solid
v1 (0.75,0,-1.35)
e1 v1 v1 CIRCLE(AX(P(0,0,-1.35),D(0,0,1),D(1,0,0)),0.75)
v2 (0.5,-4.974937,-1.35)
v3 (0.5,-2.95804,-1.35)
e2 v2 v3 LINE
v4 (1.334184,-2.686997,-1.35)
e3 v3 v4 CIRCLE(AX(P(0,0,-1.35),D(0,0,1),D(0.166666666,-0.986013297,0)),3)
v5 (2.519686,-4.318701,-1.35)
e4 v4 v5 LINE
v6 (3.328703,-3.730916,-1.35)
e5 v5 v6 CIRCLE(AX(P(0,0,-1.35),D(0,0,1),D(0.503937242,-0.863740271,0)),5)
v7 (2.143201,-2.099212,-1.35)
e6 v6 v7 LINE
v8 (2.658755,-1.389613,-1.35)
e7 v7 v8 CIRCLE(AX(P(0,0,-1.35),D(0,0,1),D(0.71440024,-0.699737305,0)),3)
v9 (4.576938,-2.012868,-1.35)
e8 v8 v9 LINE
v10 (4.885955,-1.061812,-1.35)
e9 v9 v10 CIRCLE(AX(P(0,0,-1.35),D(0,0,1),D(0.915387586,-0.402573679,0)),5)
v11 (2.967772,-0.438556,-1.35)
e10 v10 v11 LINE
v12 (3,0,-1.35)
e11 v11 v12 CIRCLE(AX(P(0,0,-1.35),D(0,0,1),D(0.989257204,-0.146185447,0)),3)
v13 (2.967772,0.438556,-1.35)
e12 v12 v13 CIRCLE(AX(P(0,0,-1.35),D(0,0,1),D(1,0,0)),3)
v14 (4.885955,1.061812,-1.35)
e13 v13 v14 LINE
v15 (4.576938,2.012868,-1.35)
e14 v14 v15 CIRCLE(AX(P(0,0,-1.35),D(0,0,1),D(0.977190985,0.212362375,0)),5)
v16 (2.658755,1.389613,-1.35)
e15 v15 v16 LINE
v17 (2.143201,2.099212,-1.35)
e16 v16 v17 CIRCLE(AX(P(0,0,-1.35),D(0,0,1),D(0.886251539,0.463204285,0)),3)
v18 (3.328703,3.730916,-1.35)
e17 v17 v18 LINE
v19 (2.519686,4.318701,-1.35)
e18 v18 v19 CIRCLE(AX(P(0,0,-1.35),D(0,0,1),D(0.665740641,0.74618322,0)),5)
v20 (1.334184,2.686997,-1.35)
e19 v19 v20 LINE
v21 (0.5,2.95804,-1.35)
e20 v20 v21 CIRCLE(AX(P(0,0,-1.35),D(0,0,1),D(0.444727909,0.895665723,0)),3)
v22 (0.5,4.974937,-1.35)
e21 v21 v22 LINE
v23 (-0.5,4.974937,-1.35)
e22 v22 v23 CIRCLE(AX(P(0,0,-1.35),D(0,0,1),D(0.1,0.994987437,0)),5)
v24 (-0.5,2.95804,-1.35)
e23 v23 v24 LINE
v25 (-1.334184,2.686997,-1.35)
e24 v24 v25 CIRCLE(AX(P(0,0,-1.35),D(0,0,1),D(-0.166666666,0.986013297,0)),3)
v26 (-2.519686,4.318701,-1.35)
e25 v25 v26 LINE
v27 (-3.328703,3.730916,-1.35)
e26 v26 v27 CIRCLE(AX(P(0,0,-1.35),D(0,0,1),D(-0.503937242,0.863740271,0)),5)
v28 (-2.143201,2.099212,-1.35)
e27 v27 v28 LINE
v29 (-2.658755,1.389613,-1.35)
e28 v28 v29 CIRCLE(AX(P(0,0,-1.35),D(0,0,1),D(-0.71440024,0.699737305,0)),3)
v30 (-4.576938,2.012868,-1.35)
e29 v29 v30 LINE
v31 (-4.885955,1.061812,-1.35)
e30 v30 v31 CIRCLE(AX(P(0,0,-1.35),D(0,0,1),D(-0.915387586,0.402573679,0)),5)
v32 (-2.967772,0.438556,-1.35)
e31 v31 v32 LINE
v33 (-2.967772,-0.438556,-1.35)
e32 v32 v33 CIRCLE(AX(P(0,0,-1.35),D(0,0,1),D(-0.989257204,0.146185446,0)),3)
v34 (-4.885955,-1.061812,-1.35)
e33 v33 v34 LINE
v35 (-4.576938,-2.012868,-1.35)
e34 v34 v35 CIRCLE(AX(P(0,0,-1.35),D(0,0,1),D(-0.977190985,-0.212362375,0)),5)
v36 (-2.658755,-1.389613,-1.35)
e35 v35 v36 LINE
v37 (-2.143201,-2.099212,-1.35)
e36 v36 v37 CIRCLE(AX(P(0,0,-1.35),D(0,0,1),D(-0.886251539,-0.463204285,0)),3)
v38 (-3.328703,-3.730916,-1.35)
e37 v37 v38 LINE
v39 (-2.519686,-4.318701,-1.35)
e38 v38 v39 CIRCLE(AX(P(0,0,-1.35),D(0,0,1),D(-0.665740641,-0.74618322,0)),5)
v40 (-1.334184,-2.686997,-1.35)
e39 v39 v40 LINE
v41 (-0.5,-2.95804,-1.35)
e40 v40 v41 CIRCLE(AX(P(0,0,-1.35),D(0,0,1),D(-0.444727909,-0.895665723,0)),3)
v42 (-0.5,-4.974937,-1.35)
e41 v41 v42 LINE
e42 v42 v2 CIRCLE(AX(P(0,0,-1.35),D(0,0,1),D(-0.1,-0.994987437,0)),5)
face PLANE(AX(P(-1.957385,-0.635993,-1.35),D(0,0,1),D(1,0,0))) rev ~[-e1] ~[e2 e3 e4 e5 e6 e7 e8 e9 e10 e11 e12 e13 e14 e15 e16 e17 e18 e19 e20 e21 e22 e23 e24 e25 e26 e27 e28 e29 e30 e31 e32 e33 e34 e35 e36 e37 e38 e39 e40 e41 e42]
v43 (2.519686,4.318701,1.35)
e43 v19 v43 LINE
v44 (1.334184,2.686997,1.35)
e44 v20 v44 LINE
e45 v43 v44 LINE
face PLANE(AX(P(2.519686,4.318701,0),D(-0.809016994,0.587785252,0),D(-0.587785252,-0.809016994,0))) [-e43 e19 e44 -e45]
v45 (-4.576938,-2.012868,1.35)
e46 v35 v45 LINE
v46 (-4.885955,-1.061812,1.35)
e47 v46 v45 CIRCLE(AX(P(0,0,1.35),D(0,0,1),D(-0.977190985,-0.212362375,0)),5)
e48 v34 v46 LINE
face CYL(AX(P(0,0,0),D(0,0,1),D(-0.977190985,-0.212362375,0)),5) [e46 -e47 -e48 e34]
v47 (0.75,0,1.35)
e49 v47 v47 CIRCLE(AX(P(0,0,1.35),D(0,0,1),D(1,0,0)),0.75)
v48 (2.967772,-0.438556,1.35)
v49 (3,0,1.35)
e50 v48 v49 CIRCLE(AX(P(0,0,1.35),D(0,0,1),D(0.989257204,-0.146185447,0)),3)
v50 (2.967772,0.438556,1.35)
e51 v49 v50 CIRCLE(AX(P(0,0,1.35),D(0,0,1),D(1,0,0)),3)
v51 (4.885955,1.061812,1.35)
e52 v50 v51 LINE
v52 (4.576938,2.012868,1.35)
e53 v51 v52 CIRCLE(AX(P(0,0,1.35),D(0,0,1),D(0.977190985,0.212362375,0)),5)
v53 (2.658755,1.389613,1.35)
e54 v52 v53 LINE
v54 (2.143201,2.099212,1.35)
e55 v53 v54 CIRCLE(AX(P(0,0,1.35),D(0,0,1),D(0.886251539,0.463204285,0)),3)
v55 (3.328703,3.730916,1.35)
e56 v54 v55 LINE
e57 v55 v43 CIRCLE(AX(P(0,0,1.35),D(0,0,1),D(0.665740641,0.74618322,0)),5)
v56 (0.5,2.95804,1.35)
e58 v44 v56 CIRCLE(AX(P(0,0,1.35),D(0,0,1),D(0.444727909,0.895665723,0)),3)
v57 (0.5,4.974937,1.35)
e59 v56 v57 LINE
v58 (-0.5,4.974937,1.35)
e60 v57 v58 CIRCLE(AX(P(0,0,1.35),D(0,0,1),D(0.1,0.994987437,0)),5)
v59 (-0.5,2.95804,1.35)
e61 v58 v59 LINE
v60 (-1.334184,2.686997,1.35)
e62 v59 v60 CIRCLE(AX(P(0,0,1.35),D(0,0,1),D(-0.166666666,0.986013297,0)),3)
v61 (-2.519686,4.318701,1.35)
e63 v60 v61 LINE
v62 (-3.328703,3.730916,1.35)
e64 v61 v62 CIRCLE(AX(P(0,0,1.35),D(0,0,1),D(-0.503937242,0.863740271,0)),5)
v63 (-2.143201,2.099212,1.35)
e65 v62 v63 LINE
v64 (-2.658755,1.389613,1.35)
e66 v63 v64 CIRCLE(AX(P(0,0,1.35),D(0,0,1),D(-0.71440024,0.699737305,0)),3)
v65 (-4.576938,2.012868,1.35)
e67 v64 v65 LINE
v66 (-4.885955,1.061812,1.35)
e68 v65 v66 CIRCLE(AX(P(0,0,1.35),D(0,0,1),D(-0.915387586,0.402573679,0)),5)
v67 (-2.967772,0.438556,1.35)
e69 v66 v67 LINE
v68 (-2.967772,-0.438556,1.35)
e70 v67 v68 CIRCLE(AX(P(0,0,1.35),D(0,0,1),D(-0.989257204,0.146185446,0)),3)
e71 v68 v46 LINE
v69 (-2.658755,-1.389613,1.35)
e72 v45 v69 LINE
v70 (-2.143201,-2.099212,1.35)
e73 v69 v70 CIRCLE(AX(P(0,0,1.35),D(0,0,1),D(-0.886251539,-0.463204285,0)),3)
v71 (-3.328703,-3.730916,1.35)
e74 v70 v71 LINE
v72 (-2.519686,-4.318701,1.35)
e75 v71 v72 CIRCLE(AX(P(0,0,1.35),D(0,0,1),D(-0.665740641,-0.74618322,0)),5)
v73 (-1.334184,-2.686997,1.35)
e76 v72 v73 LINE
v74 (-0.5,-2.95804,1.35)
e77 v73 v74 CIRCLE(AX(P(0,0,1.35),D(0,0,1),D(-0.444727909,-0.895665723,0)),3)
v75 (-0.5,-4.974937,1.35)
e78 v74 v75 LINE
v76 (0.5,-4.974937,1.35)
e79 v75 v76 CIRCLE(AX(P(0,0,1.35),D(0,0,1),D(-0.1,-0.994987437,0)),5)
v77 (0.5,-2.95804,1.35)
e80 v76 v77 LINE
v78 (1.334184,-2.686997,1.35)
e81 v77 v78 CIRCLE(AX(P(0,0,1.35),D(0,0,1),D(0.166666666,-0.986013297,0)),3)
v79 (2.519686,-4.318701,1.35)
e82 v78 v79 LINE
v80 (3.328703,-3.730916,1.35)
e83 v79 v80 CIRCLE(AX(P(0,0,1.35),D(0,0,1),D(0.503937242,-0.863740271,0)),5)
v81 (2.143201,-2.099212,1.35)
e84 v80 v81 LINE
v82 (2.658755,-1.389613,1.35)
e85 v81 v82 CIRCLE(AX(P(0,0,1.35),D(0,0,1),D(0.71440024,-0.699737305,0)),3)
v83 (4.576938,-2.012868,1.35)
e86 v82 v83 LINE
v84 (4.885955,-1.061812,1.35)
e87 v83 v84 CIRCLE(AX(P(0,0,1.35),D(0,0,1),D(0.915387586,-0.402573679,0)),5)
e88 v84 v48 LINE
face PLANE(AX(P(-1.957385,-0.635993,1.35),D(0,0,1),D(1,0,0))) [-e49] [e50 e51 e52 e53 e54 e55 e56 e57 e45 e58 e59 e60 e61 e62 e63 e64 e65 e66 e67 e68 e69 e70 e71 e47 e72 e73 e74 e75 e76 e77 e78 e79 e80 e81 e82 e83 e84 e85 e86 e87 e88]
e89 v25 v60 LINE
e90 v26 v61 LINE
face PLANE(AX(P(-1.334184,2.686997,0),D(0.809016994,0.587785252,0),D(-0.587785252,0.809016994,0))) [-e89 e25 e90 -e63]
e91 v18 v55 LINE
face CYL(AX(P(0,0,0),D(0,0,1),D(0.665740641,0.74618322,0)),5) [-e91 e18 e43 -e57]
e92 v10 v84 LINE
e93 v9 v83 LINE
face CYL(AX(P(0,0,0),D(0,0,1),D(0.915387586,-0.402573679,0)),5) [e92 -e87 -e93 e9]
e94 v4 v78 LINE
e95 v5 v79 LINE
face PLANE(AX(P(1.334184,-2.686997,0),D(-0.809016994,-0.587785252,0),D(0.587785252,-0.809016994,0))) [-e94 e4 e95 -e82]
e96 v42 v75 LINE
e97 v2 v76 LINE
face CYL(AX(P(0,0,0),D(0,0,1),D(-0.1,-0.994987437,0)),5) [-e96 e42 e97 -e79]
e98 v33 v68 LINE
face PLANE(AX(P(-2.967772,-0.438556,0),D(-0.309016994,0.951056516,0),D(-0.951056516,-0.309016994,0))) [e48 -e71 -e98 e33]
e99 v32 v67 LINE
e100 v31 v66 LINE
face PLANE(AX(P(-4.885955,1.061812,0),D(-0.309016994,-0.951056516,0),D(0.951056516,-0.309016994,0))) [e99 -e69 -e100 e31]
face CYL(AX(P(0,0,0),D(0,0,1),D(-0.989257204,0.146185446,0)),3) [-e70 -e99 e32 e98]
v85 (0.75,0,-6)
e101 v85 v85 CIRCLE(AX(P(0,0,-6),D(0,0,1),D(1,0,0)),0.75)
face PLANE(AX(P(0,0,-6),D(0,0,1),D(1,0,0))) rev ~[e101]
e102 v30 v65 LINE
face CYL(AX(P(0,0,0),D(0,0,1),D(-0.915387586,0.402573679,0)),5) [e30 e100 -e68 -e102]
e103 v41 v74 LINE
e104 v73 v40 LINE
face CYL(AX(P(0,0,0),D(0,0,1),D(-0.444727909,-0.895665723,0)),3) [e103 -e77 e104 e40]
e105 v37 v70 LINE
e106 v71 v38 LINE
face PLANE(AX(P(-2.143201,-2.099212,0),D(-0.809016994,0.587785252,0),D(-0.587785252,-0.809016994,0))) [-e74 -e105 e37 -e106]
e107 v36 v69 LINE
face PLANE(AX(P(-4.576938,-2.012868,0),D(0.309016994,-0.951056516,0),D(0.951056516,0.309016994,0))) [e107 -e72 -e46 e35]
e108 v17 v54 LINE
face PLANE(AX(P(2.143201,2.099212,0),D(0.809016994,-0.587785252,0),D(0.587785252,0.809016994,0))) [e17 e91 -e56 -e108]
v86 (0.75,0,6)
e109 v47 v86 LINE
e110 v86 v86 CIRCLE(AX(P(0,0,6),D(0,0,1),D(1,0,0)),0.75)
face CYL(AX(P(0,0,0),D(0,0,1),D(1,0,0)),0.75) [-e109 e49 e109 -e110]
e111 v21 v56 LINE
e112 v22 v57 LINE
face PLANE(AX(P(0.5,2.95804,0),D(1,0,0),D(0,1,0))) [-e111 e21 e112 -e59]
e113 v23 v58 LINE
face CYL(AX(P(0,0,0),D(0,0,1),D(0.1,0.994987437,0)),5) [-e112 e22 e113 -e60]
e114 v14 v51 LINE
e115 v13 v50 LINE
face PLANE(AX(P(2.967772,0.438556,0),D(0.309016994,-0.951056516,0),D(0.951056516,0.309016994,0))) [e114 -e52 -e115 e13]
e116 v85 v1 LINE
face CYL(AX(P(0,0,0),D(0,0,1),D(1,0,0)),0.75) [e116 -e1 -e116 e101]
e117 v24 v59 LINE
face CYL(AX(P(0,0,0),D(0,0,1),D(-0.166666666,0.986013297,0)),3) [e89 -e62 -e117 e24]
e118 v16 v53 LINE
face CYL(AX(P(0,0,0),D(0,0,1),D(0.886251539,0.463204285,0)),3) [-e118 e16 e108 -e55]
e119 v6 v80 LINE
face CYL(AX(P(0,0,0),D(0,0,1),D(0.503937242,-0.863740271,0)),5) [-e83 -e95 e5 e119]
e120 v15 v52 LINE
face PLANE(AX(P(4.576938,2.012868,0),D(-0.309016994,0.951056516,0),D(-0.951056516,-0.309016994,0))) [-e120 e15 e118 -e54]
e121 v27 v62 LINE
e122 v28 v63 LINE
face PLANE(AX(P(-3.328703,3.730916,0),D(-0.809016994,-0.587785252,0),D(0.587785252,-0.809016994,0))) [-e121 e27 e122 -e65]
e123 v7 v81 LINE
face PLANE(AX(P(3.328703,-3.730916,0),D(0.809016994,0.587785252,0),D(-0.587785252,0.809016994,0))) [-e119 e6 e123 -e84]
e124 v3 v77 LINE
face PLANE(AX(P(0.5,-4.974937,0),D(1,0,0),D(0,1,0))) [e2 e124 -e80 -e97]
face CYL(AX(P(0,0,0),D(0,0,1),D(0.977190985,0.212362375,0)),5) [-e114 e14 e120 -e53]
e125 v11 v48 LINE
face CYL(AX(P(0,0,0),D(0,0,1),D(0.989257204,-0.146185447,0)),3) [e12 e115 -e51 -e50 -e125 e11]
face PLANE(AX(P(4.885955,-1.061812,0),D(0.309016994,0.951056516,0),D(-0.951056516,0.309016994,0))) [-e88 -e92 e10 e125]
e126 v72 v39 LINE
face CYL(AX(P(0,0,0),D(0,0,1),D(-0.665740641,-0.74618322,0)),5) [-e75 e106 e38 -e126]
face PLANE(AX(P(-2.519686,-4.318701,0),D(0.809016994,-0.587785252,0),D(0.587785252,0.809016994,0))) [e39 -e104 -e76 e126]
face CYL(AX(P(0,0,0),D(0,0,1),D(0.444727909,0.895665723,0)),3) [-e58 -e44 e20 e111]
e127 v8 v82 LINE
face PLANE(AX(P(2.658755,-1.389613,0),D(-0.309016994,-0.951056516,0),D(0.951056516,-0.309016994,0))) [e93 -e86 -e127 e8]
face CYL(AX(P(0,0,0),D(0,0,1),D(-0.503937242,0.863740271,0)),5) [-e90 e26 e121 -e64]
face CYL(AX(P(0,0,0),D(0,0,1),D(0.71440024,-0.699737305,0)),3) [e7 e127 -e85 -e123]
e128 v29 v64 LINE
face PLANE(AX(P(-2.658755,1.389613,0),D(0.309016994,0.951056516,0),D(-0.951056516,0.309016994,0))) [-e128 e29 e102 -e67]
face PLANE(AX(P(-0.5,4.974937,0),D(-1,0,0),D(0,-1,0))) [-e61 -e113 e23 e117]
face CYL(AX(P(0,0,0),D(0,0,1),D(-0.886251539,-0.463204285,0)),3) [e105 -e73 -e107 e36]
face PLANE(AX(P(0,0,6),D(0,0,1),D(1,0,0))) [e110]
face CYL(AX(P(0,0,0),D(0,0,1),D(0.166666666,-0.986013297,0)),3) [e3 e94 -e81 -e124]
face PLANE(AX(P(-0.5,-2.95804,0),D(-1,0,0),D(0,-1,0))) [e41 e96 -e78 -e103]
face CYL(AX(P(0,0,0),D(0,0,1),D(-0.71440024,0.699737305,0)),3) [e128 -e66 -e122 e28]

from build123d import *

# Parameters (mm, degrees)
F1_DEPTH = 1.35
F2_R     = 0.75
F3_DEPTH = 6


with BuildPart() as f1:
    # F0 (on Top) → F1 (new body, symmetric)
    with BuildSketch(Plane.XY):
        with BuildLine():
            ThreePointArc((-2.9677716115, -0.4385563384), (-2.8531695489, -0.9270509831), (-2.6587546171, -1.3896128547))
            Line((-2.6587546171, -1.3896128547), (-1.3090169944, -0.9510565163))
            Line((-1.3090169944, -0.9510565163), (-0.8090169944, -0.2628655561))
            Line((-0.8090169944, -0.2628655561), (-1.6180339887, 0))
            Line((-1.6180339887, 0), (-2.9677716115, -0.4385563384))
        make_face()
        with BuildLine():
            ThreePointArc((2.1432007211, -2.0992119162), (2.4270509831, -1.7633557569), (2.6587546171, -1.3896128547))
            Line((2.6587546171, -1.3896128547), (1.3090169944, -0.9510565163))
            Line((1.3090169944, -0.9510565163), (2.1432007211, -2.0992119162))
        make_face()
        with BuildLine():
            ThreePointArc((-2.1432007211, -2.0992119162), (-1.7633557569, -2.4270509831), (-1.3341837268, -2.6869971684))
            Line((-1.3341837268, -2.6869971684), (-0.5, -1.5388417686))
            Line((-0.5, -1.5388417686), (-0.5, -0.6881909602))
            Line((-0.5, -0.6881909602), (-1.3090169944, -0.9510565163))
            Line((-1.3090169944, -0.9510565163), (-2.1432007211, -2.0992119162))
        make_face()
        Polygon((0.6180339887, 0), (0.8090169944, 0.2628655561), (0.5, 0.363271264), (0.5, 0.1624598481), align=None)
        with BuildLine():
            ThreePointArc((0.5, -2.9580398915), (0.9270509831, -2.8531695489), (1.3341837268, -2.6869971684))
            Line((1.3341837268, -2.6869971684), (0.5, -1.5388417686))
            Line((0.5, -1.5388417686), (0.5, -2.9580398915))
        make_face()
        with BuildLine():
            ThreePointArc((0.4045084972, -0.2938926261), (0.4755282581, -0.1545084972), (0.5, 0))
            Line((0.5, 0), (-0.5, 0))
            ThreePointArc((-0.5, 0), (-0.4755282581, -0.1545084972), (-0.4045084972, -0.2938926261))
            ThreePointArc((-0.4045084972, -0.2938926261), (-0.2938926261, -0.4045084972), (-0.1545084972, -0.4755282581))
            ThreePointArc((-0.1545084972, -0.4755282581), (0, -0.5), (0.1545084972, -0.4755282581))
            ThreePointArc((0.1545084972, -0.4755282581), (0.2938926261, -0.4045084972), (0.4045084972, -0.2938926261))
        make_face()
        Polygon((-0.6180339887, 0), (-0.5, 0.1624598481), (-0.5, 0.363271264), (-0.8090169944, 0.2628655561), align=None)
        Polygon((0.5, -0.6881909602), (0.5, -0.363271264), (0.3090169944, -0.4253254042), (0.1909830056, -0.5877852523), align=None)
        with BuildLine():
            Line((-0.5, 1.5388417686), (-0.5, 2.9580398915))
            ThreePointArc((-0.5, 2.9580398915), (-0.9270509831, 2.8531695489), (-1.3341837268, 2.6869971684))
            Line((-1.3341837268, 2.6869971684), (-0.5, 1.5388417686))
        make_face()
        with BuildLine():
            Line((0.5, 1.5388417686), (1.3341837268, 2.6869971684))
            ThreePointArc((1.3341837268, 2.6869971684), (0.9270509831, 2.8531695489), (0.5, 2.9580398915))
            Line((0.5, 2.9580398915), (0.5, 1.5388417686))
        make_face()
        with BuildLine():
            Line((1.3090169944, 0.9510565163), (2.6587546171, 1.3896128547))
            ThreePointArc((2.6587546171, 1.3896128547), (2.4270509831, 1.7633557569), (2.1432007211, 2.0992119162))
            Line((2.1432007211, 2.0992119162), (1.3090169944, 0.9510565163))
        make_face()
        Polygon((0.8090169944, 0.2628655561), (1.3090169944, 0.9510565163), (0.5, 0.6881909602), (0.5, 0.363271264), align=None)
        Polygon((-0.5, -0.6881909602), (-0.1909830056, -0.5877852523), (-0.3090169944, -0.4253254042), (-0.5, -0.363271264), align=None)
        with BuildLine():
            Line((-1.3090169944, 0.9510565163), (-2.6587546171, 1.3896128547))
            ThreePointArc((-2.6587546171, 1.3896128547), (-2.8531695489, 0.9270509831), (-2.9677716115, 0.4385563384))
            Line((-2.9677716115, 0.4385563384), (-1.6180339887, 0))
            Line((-1.6180339887, 0), (-0.8090169944, 0.2628655561))
            Line((-0.8090169944, 0.2628655561), (-1.3090169944, 0.9510565163))
        make_face()
        with BuildLine():
            Line((-1.6180339887, 0), (-2.9677716115, 0.4385563384))
            ThreePointArc((-2.9677716115, 0.4385563384), (-3, 0), (-2.9677716115, -0.4385563384))
            Line((-2.9677716115, -0.4385563384), (-1.6180339887, 0))
        make_face()
        with BuildLine():
            ThreePointArc((-1.3341837268, -2.6869971684), (-0.9270509831, -2.8531695489), (-0.5, -2.9580398915))
            Line((-0.5, -2.9580398915), (-0.5, -1.5388417686))
            Line((-0.5, -1.5388417686), (-1.3341837268, -2.6869971684))
        make_face()
        with BuildLine():
            Line((-1.3090169944, 0.9510565163), (-2.1432007211, 2.0992119162))
            ThreePointArc((-2.1432007211, 2.0992119162), (-2.4270509831, 1.7633557569), (-2.6587546171, 1.3896128547))
            Line((-2.6587546171, 1.3896128547), (-1.3090169944, 0.9510565163))
        make_face()
        with BuildLine():
            ThreePointArc((-2.6587546171, -1.3896128547), (-2.4270509831, -1.7633557569), (-2.1432007211, -2.0992119162))
            Line((-2.1432007211, -2.0992119162), (-1.3090169944, -0.9510565163))
            Line((-1.3090169944, -0.9510565163), (-2.6587546171, -1.3896128547))
        make_face()
        Polygon((-0.3090169944, 0.4253254042), (-0.1909830056, 0.5877852523), (-0.5, 0.6881909602), (-0.5, 0.363271264), align=None)
        Polygon((0.5, -1.5388417686), (0.5, -0.6881909602), (0.1909830056, -0.5877852523), (0, -0.8506508084), align=None)
        with BuildLine():
            Line((-0.5, 0), (0.5, 0))
            ThreePointArc((0.5, 0), (0.4755282581, 0.1545084972), (0.4045084972, 0.2938926261))
            ThreePointArc((0.4045084972, 0.2938926261), (0.2938926261, 0.4045084972), (0.1545084972, 0.4755282581))
            ThreePointArc((0.1545084972, 0.4755282581), (0, 0.5), (-0.1545084972, 0.4755282581))
            ThreePointArc((-0.1545084972, 0.4755282581), (-0.2938926261, 0.4045084972), (-0.4045084972, 0.2938926261))
            ThreePointArc((-0.4045084972, 0.2938926261), (-0.4755282581, 0.1545084972), (-0.5, 0))
        make_face()
        with BuildLine():
            Line((1.6180339887, 0), (2.9677716115, 0.4385563384))
            ThreePointArc((2.9677716115, 0.4385563384), (2.8531695489, 0.9270509831), (2.6587546171, 1.3896128547))
            Line((2.6587546171, 1.3896128547), (1.3090169944, 0.9510565163))
            Line((1.3090169944, 0.9510565163), (0.8090169944, 0.2628655561))
            Line((0.8090169944, 0.2628655561), (1.6180339887, 0))
        make_face()
        Polygon((0.1909830056, 0.5877852523), (0.5, 0.6881909602), (0.5, 1.5388417686), (0, 0.8506508084), align=None)
        Polygon((-0.5, 0.363271264), (-0.5, 0.6881909602), (-1.3090169944, 0.9510565163), (-0.8090169944, 0.2628655561), align=None)
        with BuildLine():
            Line((0.5, 1.5388417686), (0.5, 2.9580398915))
            ThreePointArc((0.5, 2.9580398915), (0, 3), (-0.5, 2.9580398915))
            Line((-0.5, 2.9580398915), (-0.5, 1.5388417686))
            Line((-0.5, 1.5388417686), (0, 0.8506508084))
            Line((0, 0.8506508084), (0.5, 1.5388417686))
        make_face()
        with BuildLine():
            ThreePointArc((2.6587546171, -1.3896128547), (2.8531695489, -0.9270509831), (2.9677716115, -0.4385563384))
            Line((2.9677716115, -0.4385563384), (1.6180339887, 0))
            Line((1.6180339887, 0), (0.8090169944, -0.2628655561))
            Line((0.8090169944, -0.2628655561), (1.3090169944, -0.9510565163))
            Line((1.3090169944, -0.9510565163), (2.6587546171, -1.3896128547))
        make_face()
        Polygon((-0.5, -0.363271264), (-0.5, -0.1624598481), (-0.6180339887, 0), (-0.8090169944, -0.2628655561), align=None)
        Polygon((0.8090169944, -0.2628655561), (1.6180339887, 0), (0.8090169944, 0.2628655561), (0.6180339887, 0), align=None)
        Polygon((-0.1909830056, 0.5877852523), (0, 0.8506508084), (-0.5, 1.5388417686), (-0.5, 0.6881909602), align=None)
        Polygon((0, -0.8506508084), (0.1909830056, -0.5877852523), (0, -0.5257311121), (-0.1909830056, -0.5877852523), align=None)
        Polygon((0, 0.5257311121), (0.1909830056, 0.5877852523), (0, 0.8506508084), (-0.1909830056, 0.5877852523), align=None)
        with BuildLine():
            ThreePointArc((1.3341837268, -2.6869971684), (1.7633557569, -2.4270509831), (2.1432007211, -2.0992119162))
            Line((2.1432007211, -2.0992119162), (1.3090169944, -0.9510565163))
            Line((1.3090169944, -0.9510565163), (0.5, -0.6881909602))
            Line((0.5, -0.6881909602), (0.5, -1.5388417686))
            Line((0.5, -1.5388417686), (1.3341837268, -2.6869971684))
        make_face()
        with BuildLine():
            Line((1.3090169944, 0.9510565163), (2.1432007211, 2.0992119162))
            ThreePointArc((2.1432007211, 2.0992119162), (1.7633557569, 2.4270509831), (1.3341837268, 2.6869971684))
            Line((1.3341837268, 2.6869971684), (0.5, 1.5388417686))
            Line((0.5, 1.5388417686), (0.5, 0.6881909602))
            Line((0.5, 0.6881909602), (1.3090169944, 0.9510565163))
        make_face()
        Polygon((-0.8090169944, -0.2628655561), (-0.6180339887, 0), (-0.8090169944, 0.2628655561), (-1.6180339887, 0), align=None)
        Polygon((0.5, -0.363271264), (0.8090169944, -0.2628655561), (0.6180339887, 0), (0.5, -0.1624598481), align=None)
        Polygon((-0.5, -1.5388417686), (0, -0.8506508084), (-0.1909830056, -0.5877852523), (-0.5, -0.6881909602), align=None)
        with BuildLine():
            ThreePointArc((-0.5, -2.9580398915), (0, -3), (0.5, -2.9580398915))
            Line((0.5, -2.9580398915), (0.5, -1.5388417686))
            Line((0.5, -1.5388417686), (0, -0.8506508084))
            Line((0, -0.8506508084), (-0.5, -1.5388417686))
            Line((-0.5, -1.5388417686), (-0.5, -2.9580398915))
        make_face()
        with BuildLine():
            ThreePointArc((2.9677716115, -0.4385563384), (2.9919320543, -0.2198694675), (3, 0))
            ThreePointArc((3, 0), (2.9919320543, 0.2198694675), (2.9677716115, 0.4385563384))
            Line((2.9677716115, 0.4385563384), (1.6180339887, 0))
            Line((1.6180339887, 0), (2.9677716115, -0.4385563384))
        make_face()
        Polygon((1.3090169944, -0.9510565163), (0.8090169944, -0.2628655561), (0.5, -0.363271264), (0.5, -0.6881909602), align=None)
        Polygon((0.5, 0.363271264), (0.5, 0.6881909602), (0.1909830056, 0.5877852523), (0.3090169944, 0.4253254042), align=None)
        with BuildLine():
            Line((-0.5, 1.5388417686), (-1.3341837268, 2.6869971684))
            ThreePointArc((-1.3341837268, 2.6869971684), (-1.7633557569, 2.4270509831), (-2.1432007211, 2.0992119162))
            Line((-2.1432007211, 2.0992119162), (-1.3090169944, 0.9510565163))
            Line((-1.3090169944, 0.9510565163), (-0.5, 0.6881909602))
            Line((-0.5, 0.6881909602), (-0.5, 1.5388417686))
        make_face()
        Polygon((-1.3090169944, -0.9510565163), (-0.5, -0.6881909602), (-0.5, -0.363271264), (-0.8090169944, -0.2628655561), align=None)
        Polygon((-0.1909830056, -0.5877852523), (0, -0.5257311121), (-0.1545084972, -0.4755282581), (-0.3090169944, -0.4253254042), align=None)
        Polygon((0.3090169944, -0.4253254042), (0.5, -0.363271264), (0.5, -0.1624598481), (0.4045084972, -0.2938926261), align=None)
        Polygon((-0.1545084972, 0.4755282581), (0, 0.5257311121), (-0.1909830056, 0.5877852523), (-0.3090169944, 0.4253254042), align=None)
        Polygon((-0.4045084972, -0.2938926261), (-0.5, -0.1624598481), (-0.5, -0.363271264), (-0.3090169944, -0.4253254042), align=None)
        Polygon((0.3090169944, 0.4253254042), (0.1909830056, 0.5877852523), (0, 0.5257311121), (0.1545084972, 0.4755282581), align=None)
        Polygon((0.1909830056, -0.5877852523), (0.3090169944, -0.4253254042), (0.1545084972, -0.4755282581), (0, -0.5257311121), align=None)
        with BuildLine():
            Line((-0.5, 0.1624598481), (-0.5, 0))
            ThreePointArc((-0.5, 0), (-0.4755282581, 0.1545084972), (-0.4045084972, 0.2938926261))
            Line((-0.4045084972, 0.2938926261), (-0.5, 0.1624598481))
        make_face()
        Polygon((0.5, -0.1624598481), (0.6180339887, 0), (0.5, 0.1624598481), (0.5, 0), align=None)
        Polygon((0.5, 0.1624598481), (0.5, 0.363271264), (0.3090169944, 0.4253254042), (0.4045084972, 0.2938926261), align=None)
        with BuildLine():
            Line((-0.3090169944, -0.4253254042), (-0.1545084972, -0.4755282581))
            ThreePointArc((-0.1545084972, -0.4755282581), (-0.2938926261, -0.4045084972), (-0.4045084972, -0.2938926261))
            Line((-0.4045084972, -0.2938926261), (-0.3090169944, -0.4253254042))
        make_face()
        Polygon((-0.4045084972, 0.2938926261), (-0.3090169944, 0.4253254042), (-0.5, 0.363271264), (-0.5, 0.1624598481), align=None)
        with BuildLine():
            Line((0.4045084972, 0.2938926261), (0.3090169944, 0.4253254042))
            Line((0.3090169944, 0.4253254042), (0.1545084972, 0.4755282581))
            ThreePointArc((0.1545084972, 0.4755282581), (0.2938926261, 0.4045084972), (0.4045084972, 0.2938926261))
        make_face()
        with BuildLine():
            ThreePointArc((-0.4045084972, -0.2938926261), (-0.4755282581, -0.1545084972), (-0.5, 0))
            Line((-0.5, 0), (-0.5, -0.1624598481))
            Line((-0.5, -0.1624598481), (-0.4045084972, -0.2938926261))
        make_face()
        with BuildLine():
            Line((0.1545084972, -0.4755282581), (0.3090169944, -0.4253254042))
            Line((0.3090169944, -0.4253254042), (0.4045084972, -0.2938926261))
            ThreePointArc((0.4045084972, -0.2938926261), (0.2938926261, -0.4045084972), (0.1545084972, -0.4755282581))
        make_face()
        with BuildLine():
            ThreePointArc((-0.4045084972, 0.2938926261), (-0.2938926261, 0.4045084972), (-0.1545084972, 0.4755282581))
            Line((-0.1545084972, 0.4755282581), (-0.3090169944, 0.4253254042))
            Line((-0.3090169944, 0.4253254042), (-0.4045084972, 0.2938926261))
        make_face()
        with BuildLine():
            Line((0.4045084972, -0.2938926261), (0.5, -0.1624598481))
            Line((0.5, -0.1624598481), (0.5, 0))
            ThreePointArc((0.5, 0), (0.4755282581, -0.1545084972), (0.4045084972, -0.2938926261))
        make_face()
        with BuildLine():
            Line((0.5, 0), (0.5, 0.1624598481))
            Line((0.5, 0.1624598481), (0.4045084972, 0.2938926261))
            ThreePointArc((0.4045084972, 0.2938926261), (0.4755282581, 0.1545084972), (0.5, 0))
        make_face()
        with BuildLine():
            Line((0, -0.5257311121), (0.1545084972, -0.4755282581))
            ThreePointArc((0.1545084972, -0.4755282581), (0, -0.5), (-0.1545084972, -0.4755282581))
            Line((-0.1545084972, -0.4755282581), (0, -0.5257311121))
        make_face()
        with BuildLine():
            Line((0.1545084972, 0.4755282581), (0, 0.5257311121))
            Line((0, 0.5257311121), (-0.1545084972, 0.4755282581))
            ThreePointArc((-0.1545084972, 0.4755282581), (0, 0.5), (0.1545084972, 0.4755282581))
        make_face()
        Polygon((-0.5, -0.1624598481), (-0.5, 0), (-0.5, 0.1624598481), (-0.6180339887, 0), align=None)
        with BuildLine():
            ThreePointArc((-2.1432007211, 2.0992119162), (-1.7633557569, 2.4270509831), (-1.3341837268, 2.6869971684))
            Line((-1.3341837268, 2.6869971684), (-2.5196862116, 4.3187013552))
            ThreePointArc((-2.5196862116, 4.3187013552), (-2.9389262615, 4.0450849719), (-3.3287032059, 3.7309161029))
            Line((-3.3287032059, 3.7309161029), (-2.1432007211, 2.0992119162))
        make_face()
        with BuildLine():
            ThreePointArc((-0.5, 2.9580398915), (0, 3), (0.5, 2.9580398915))
            Line((0.5, 2.9580398915), (0.5, 4.9749371855))
            ThreePointArc((0.5, 4.9749371855), (0, 5), (-0.5, 4.9749371855))
            Line((-0.5, 4.9749371855), (-0.5, 2.9580398915))
        make_face()
        with BuildLine():
            ThreePointArc((1.3341837268, 2.6869971684), (1.7633557569, 2.4270509831), (2.1432007211, 2.0992119162))
            Line((2.1432007211, 2.0992119162), (3.3287032059, 3.7309161029))
            ThreePointArc((3.3287032059, 3.7309161029), (2.9389262615, 4.0450849719), (2.5196862116, 4.3187013552))
            Line((2.5196862116, 4.3187013552), (1.3341837268, 2.6869971684))
        make_face()
        with BuildLine():
            ThreePointArc((2.6587546171, 1.3896128547), (2.8531695489, 0.9270509831), (2.9677716115, 0.4385563384))
            Line((2.9677716115, 0.4385563384), (4.8859549256, 1.0618118781))
            ThreePointArc((4.8859549256, 1.0618118781), (4.7552825815, 1.5450849719), (4.5769379313, 2.0128683944))
            Line((4.5769379313, 2.0128683944), (2.6587546171, 1.3896128547))
        make_face()
        with BuildLine():
            Line((3.3287032059, -3.7309161029), (2.1432007211, -2.0992119162))
            ThreePointArc((2.1432007211, -2.0992119162), (1.7633557569, -2.4270509831), (1.3341837268, -2.6869971684))
            Line((1.3341837268, -2.6869971684), (2.5196862116, -4.3187013552))
            ThreePointArc((2.5196862116, -4.3187013552), (2.9389262615, -4.0450849719), (3.3287032059, -3.7309161029))
        make_face()
        with BuildLine():
            Line((4.8859549256, -1.0618118781), (2.9677716115, -0.4385563384))
            ThreePointArc((2.9677716115, -0.4385563384), (2.8531695489, -0.9270509831), (2.6587546171, -1.3896128547))
            Line((2.6587546171, -1.3896128547), (4.5769379313, -2.0128683944))
            ThreePointArc((4.5769379313, -2.0128683944), (4.7552825815, -1.5450849719), (4.8859549256, -1.0618118781))
        make_face()
        with BuildLine():
            Line((0.5, -4.9749371855), (0.5, -2.9580398915))
            ThreePointArc((0.5, -2.9580398915), (0, -3), (-0.5, -2.9580398915))
            Line((-0.5, -2.9580398915), (-0.5, -4.9749371855))
            ThreePointArc((-0.5, -4.9749371855), (0, -5), (0.5, -4.9749371855))
        make_face()
        with BuildLine():
            Line((-2.5196862116, -4.3187013552), (-1.3341837268, -2.6869971684))
            ThreePointArc((-1.3341837268, -2.6869971684), (-1.7633557569, -2.4270509831), (-2.1432007211, -2.0992119162))
            Line((-2.1432007211, -2.0992119162), (-3.3287032059, -3.7309161029))
            ThreePointArc((-3.3287032059, -3.7309161029), (-2.9389262615, -4.0450849719), (-2.5196862116, -4.3187013552))
        make_face()
        with BuildLine():
            Line((-4.5769379313, -2.0128683944), (-2.6587546171, -1.3896128547))
            ThreePointArc((-2.6587546171, -1.3896128547), (-2.8531695489, -0.9270509831), (-2.9677716115, -0.4385563384))
            Line((-2.9677716115, -0.4385563384), (-4.8859549256, -1.0618118781))
            ThreePointArc((-4.8859549256, -1.0618118781), (-4.7552825815, -1.5450849719), (-4.5769379313, -2.0128683944))
        make_face()
        with BuildLine():
            ThreePointArc((-2.9677716115, 0.4385563384), (-2.8531695489, 0.9270509831), (-2.6587546171, 1.3896128547))
            Line((-2.6587546171, 1.3896128547), (-4.5769379313, 2.0128683944))
            ThreePointArc((-4.5769379313, 2.0128683944), (-4.7552825815, 1.5450849719), (-4.8859549256, 1.0618118781))
            Line((-4.8859549256, 1.0618118781), (-2.9677716115, 0.4385563384))
        make_face()
    extrude(amount=F1_DEPTH, both=True)

    # F2 (on Top) → F3 (join, symmetric)
    with BuildSketch(Plane.XY):
        Circle(F2_R)
    extrude(amount=F3_DEPTH, both=True)


solid = f1.part
